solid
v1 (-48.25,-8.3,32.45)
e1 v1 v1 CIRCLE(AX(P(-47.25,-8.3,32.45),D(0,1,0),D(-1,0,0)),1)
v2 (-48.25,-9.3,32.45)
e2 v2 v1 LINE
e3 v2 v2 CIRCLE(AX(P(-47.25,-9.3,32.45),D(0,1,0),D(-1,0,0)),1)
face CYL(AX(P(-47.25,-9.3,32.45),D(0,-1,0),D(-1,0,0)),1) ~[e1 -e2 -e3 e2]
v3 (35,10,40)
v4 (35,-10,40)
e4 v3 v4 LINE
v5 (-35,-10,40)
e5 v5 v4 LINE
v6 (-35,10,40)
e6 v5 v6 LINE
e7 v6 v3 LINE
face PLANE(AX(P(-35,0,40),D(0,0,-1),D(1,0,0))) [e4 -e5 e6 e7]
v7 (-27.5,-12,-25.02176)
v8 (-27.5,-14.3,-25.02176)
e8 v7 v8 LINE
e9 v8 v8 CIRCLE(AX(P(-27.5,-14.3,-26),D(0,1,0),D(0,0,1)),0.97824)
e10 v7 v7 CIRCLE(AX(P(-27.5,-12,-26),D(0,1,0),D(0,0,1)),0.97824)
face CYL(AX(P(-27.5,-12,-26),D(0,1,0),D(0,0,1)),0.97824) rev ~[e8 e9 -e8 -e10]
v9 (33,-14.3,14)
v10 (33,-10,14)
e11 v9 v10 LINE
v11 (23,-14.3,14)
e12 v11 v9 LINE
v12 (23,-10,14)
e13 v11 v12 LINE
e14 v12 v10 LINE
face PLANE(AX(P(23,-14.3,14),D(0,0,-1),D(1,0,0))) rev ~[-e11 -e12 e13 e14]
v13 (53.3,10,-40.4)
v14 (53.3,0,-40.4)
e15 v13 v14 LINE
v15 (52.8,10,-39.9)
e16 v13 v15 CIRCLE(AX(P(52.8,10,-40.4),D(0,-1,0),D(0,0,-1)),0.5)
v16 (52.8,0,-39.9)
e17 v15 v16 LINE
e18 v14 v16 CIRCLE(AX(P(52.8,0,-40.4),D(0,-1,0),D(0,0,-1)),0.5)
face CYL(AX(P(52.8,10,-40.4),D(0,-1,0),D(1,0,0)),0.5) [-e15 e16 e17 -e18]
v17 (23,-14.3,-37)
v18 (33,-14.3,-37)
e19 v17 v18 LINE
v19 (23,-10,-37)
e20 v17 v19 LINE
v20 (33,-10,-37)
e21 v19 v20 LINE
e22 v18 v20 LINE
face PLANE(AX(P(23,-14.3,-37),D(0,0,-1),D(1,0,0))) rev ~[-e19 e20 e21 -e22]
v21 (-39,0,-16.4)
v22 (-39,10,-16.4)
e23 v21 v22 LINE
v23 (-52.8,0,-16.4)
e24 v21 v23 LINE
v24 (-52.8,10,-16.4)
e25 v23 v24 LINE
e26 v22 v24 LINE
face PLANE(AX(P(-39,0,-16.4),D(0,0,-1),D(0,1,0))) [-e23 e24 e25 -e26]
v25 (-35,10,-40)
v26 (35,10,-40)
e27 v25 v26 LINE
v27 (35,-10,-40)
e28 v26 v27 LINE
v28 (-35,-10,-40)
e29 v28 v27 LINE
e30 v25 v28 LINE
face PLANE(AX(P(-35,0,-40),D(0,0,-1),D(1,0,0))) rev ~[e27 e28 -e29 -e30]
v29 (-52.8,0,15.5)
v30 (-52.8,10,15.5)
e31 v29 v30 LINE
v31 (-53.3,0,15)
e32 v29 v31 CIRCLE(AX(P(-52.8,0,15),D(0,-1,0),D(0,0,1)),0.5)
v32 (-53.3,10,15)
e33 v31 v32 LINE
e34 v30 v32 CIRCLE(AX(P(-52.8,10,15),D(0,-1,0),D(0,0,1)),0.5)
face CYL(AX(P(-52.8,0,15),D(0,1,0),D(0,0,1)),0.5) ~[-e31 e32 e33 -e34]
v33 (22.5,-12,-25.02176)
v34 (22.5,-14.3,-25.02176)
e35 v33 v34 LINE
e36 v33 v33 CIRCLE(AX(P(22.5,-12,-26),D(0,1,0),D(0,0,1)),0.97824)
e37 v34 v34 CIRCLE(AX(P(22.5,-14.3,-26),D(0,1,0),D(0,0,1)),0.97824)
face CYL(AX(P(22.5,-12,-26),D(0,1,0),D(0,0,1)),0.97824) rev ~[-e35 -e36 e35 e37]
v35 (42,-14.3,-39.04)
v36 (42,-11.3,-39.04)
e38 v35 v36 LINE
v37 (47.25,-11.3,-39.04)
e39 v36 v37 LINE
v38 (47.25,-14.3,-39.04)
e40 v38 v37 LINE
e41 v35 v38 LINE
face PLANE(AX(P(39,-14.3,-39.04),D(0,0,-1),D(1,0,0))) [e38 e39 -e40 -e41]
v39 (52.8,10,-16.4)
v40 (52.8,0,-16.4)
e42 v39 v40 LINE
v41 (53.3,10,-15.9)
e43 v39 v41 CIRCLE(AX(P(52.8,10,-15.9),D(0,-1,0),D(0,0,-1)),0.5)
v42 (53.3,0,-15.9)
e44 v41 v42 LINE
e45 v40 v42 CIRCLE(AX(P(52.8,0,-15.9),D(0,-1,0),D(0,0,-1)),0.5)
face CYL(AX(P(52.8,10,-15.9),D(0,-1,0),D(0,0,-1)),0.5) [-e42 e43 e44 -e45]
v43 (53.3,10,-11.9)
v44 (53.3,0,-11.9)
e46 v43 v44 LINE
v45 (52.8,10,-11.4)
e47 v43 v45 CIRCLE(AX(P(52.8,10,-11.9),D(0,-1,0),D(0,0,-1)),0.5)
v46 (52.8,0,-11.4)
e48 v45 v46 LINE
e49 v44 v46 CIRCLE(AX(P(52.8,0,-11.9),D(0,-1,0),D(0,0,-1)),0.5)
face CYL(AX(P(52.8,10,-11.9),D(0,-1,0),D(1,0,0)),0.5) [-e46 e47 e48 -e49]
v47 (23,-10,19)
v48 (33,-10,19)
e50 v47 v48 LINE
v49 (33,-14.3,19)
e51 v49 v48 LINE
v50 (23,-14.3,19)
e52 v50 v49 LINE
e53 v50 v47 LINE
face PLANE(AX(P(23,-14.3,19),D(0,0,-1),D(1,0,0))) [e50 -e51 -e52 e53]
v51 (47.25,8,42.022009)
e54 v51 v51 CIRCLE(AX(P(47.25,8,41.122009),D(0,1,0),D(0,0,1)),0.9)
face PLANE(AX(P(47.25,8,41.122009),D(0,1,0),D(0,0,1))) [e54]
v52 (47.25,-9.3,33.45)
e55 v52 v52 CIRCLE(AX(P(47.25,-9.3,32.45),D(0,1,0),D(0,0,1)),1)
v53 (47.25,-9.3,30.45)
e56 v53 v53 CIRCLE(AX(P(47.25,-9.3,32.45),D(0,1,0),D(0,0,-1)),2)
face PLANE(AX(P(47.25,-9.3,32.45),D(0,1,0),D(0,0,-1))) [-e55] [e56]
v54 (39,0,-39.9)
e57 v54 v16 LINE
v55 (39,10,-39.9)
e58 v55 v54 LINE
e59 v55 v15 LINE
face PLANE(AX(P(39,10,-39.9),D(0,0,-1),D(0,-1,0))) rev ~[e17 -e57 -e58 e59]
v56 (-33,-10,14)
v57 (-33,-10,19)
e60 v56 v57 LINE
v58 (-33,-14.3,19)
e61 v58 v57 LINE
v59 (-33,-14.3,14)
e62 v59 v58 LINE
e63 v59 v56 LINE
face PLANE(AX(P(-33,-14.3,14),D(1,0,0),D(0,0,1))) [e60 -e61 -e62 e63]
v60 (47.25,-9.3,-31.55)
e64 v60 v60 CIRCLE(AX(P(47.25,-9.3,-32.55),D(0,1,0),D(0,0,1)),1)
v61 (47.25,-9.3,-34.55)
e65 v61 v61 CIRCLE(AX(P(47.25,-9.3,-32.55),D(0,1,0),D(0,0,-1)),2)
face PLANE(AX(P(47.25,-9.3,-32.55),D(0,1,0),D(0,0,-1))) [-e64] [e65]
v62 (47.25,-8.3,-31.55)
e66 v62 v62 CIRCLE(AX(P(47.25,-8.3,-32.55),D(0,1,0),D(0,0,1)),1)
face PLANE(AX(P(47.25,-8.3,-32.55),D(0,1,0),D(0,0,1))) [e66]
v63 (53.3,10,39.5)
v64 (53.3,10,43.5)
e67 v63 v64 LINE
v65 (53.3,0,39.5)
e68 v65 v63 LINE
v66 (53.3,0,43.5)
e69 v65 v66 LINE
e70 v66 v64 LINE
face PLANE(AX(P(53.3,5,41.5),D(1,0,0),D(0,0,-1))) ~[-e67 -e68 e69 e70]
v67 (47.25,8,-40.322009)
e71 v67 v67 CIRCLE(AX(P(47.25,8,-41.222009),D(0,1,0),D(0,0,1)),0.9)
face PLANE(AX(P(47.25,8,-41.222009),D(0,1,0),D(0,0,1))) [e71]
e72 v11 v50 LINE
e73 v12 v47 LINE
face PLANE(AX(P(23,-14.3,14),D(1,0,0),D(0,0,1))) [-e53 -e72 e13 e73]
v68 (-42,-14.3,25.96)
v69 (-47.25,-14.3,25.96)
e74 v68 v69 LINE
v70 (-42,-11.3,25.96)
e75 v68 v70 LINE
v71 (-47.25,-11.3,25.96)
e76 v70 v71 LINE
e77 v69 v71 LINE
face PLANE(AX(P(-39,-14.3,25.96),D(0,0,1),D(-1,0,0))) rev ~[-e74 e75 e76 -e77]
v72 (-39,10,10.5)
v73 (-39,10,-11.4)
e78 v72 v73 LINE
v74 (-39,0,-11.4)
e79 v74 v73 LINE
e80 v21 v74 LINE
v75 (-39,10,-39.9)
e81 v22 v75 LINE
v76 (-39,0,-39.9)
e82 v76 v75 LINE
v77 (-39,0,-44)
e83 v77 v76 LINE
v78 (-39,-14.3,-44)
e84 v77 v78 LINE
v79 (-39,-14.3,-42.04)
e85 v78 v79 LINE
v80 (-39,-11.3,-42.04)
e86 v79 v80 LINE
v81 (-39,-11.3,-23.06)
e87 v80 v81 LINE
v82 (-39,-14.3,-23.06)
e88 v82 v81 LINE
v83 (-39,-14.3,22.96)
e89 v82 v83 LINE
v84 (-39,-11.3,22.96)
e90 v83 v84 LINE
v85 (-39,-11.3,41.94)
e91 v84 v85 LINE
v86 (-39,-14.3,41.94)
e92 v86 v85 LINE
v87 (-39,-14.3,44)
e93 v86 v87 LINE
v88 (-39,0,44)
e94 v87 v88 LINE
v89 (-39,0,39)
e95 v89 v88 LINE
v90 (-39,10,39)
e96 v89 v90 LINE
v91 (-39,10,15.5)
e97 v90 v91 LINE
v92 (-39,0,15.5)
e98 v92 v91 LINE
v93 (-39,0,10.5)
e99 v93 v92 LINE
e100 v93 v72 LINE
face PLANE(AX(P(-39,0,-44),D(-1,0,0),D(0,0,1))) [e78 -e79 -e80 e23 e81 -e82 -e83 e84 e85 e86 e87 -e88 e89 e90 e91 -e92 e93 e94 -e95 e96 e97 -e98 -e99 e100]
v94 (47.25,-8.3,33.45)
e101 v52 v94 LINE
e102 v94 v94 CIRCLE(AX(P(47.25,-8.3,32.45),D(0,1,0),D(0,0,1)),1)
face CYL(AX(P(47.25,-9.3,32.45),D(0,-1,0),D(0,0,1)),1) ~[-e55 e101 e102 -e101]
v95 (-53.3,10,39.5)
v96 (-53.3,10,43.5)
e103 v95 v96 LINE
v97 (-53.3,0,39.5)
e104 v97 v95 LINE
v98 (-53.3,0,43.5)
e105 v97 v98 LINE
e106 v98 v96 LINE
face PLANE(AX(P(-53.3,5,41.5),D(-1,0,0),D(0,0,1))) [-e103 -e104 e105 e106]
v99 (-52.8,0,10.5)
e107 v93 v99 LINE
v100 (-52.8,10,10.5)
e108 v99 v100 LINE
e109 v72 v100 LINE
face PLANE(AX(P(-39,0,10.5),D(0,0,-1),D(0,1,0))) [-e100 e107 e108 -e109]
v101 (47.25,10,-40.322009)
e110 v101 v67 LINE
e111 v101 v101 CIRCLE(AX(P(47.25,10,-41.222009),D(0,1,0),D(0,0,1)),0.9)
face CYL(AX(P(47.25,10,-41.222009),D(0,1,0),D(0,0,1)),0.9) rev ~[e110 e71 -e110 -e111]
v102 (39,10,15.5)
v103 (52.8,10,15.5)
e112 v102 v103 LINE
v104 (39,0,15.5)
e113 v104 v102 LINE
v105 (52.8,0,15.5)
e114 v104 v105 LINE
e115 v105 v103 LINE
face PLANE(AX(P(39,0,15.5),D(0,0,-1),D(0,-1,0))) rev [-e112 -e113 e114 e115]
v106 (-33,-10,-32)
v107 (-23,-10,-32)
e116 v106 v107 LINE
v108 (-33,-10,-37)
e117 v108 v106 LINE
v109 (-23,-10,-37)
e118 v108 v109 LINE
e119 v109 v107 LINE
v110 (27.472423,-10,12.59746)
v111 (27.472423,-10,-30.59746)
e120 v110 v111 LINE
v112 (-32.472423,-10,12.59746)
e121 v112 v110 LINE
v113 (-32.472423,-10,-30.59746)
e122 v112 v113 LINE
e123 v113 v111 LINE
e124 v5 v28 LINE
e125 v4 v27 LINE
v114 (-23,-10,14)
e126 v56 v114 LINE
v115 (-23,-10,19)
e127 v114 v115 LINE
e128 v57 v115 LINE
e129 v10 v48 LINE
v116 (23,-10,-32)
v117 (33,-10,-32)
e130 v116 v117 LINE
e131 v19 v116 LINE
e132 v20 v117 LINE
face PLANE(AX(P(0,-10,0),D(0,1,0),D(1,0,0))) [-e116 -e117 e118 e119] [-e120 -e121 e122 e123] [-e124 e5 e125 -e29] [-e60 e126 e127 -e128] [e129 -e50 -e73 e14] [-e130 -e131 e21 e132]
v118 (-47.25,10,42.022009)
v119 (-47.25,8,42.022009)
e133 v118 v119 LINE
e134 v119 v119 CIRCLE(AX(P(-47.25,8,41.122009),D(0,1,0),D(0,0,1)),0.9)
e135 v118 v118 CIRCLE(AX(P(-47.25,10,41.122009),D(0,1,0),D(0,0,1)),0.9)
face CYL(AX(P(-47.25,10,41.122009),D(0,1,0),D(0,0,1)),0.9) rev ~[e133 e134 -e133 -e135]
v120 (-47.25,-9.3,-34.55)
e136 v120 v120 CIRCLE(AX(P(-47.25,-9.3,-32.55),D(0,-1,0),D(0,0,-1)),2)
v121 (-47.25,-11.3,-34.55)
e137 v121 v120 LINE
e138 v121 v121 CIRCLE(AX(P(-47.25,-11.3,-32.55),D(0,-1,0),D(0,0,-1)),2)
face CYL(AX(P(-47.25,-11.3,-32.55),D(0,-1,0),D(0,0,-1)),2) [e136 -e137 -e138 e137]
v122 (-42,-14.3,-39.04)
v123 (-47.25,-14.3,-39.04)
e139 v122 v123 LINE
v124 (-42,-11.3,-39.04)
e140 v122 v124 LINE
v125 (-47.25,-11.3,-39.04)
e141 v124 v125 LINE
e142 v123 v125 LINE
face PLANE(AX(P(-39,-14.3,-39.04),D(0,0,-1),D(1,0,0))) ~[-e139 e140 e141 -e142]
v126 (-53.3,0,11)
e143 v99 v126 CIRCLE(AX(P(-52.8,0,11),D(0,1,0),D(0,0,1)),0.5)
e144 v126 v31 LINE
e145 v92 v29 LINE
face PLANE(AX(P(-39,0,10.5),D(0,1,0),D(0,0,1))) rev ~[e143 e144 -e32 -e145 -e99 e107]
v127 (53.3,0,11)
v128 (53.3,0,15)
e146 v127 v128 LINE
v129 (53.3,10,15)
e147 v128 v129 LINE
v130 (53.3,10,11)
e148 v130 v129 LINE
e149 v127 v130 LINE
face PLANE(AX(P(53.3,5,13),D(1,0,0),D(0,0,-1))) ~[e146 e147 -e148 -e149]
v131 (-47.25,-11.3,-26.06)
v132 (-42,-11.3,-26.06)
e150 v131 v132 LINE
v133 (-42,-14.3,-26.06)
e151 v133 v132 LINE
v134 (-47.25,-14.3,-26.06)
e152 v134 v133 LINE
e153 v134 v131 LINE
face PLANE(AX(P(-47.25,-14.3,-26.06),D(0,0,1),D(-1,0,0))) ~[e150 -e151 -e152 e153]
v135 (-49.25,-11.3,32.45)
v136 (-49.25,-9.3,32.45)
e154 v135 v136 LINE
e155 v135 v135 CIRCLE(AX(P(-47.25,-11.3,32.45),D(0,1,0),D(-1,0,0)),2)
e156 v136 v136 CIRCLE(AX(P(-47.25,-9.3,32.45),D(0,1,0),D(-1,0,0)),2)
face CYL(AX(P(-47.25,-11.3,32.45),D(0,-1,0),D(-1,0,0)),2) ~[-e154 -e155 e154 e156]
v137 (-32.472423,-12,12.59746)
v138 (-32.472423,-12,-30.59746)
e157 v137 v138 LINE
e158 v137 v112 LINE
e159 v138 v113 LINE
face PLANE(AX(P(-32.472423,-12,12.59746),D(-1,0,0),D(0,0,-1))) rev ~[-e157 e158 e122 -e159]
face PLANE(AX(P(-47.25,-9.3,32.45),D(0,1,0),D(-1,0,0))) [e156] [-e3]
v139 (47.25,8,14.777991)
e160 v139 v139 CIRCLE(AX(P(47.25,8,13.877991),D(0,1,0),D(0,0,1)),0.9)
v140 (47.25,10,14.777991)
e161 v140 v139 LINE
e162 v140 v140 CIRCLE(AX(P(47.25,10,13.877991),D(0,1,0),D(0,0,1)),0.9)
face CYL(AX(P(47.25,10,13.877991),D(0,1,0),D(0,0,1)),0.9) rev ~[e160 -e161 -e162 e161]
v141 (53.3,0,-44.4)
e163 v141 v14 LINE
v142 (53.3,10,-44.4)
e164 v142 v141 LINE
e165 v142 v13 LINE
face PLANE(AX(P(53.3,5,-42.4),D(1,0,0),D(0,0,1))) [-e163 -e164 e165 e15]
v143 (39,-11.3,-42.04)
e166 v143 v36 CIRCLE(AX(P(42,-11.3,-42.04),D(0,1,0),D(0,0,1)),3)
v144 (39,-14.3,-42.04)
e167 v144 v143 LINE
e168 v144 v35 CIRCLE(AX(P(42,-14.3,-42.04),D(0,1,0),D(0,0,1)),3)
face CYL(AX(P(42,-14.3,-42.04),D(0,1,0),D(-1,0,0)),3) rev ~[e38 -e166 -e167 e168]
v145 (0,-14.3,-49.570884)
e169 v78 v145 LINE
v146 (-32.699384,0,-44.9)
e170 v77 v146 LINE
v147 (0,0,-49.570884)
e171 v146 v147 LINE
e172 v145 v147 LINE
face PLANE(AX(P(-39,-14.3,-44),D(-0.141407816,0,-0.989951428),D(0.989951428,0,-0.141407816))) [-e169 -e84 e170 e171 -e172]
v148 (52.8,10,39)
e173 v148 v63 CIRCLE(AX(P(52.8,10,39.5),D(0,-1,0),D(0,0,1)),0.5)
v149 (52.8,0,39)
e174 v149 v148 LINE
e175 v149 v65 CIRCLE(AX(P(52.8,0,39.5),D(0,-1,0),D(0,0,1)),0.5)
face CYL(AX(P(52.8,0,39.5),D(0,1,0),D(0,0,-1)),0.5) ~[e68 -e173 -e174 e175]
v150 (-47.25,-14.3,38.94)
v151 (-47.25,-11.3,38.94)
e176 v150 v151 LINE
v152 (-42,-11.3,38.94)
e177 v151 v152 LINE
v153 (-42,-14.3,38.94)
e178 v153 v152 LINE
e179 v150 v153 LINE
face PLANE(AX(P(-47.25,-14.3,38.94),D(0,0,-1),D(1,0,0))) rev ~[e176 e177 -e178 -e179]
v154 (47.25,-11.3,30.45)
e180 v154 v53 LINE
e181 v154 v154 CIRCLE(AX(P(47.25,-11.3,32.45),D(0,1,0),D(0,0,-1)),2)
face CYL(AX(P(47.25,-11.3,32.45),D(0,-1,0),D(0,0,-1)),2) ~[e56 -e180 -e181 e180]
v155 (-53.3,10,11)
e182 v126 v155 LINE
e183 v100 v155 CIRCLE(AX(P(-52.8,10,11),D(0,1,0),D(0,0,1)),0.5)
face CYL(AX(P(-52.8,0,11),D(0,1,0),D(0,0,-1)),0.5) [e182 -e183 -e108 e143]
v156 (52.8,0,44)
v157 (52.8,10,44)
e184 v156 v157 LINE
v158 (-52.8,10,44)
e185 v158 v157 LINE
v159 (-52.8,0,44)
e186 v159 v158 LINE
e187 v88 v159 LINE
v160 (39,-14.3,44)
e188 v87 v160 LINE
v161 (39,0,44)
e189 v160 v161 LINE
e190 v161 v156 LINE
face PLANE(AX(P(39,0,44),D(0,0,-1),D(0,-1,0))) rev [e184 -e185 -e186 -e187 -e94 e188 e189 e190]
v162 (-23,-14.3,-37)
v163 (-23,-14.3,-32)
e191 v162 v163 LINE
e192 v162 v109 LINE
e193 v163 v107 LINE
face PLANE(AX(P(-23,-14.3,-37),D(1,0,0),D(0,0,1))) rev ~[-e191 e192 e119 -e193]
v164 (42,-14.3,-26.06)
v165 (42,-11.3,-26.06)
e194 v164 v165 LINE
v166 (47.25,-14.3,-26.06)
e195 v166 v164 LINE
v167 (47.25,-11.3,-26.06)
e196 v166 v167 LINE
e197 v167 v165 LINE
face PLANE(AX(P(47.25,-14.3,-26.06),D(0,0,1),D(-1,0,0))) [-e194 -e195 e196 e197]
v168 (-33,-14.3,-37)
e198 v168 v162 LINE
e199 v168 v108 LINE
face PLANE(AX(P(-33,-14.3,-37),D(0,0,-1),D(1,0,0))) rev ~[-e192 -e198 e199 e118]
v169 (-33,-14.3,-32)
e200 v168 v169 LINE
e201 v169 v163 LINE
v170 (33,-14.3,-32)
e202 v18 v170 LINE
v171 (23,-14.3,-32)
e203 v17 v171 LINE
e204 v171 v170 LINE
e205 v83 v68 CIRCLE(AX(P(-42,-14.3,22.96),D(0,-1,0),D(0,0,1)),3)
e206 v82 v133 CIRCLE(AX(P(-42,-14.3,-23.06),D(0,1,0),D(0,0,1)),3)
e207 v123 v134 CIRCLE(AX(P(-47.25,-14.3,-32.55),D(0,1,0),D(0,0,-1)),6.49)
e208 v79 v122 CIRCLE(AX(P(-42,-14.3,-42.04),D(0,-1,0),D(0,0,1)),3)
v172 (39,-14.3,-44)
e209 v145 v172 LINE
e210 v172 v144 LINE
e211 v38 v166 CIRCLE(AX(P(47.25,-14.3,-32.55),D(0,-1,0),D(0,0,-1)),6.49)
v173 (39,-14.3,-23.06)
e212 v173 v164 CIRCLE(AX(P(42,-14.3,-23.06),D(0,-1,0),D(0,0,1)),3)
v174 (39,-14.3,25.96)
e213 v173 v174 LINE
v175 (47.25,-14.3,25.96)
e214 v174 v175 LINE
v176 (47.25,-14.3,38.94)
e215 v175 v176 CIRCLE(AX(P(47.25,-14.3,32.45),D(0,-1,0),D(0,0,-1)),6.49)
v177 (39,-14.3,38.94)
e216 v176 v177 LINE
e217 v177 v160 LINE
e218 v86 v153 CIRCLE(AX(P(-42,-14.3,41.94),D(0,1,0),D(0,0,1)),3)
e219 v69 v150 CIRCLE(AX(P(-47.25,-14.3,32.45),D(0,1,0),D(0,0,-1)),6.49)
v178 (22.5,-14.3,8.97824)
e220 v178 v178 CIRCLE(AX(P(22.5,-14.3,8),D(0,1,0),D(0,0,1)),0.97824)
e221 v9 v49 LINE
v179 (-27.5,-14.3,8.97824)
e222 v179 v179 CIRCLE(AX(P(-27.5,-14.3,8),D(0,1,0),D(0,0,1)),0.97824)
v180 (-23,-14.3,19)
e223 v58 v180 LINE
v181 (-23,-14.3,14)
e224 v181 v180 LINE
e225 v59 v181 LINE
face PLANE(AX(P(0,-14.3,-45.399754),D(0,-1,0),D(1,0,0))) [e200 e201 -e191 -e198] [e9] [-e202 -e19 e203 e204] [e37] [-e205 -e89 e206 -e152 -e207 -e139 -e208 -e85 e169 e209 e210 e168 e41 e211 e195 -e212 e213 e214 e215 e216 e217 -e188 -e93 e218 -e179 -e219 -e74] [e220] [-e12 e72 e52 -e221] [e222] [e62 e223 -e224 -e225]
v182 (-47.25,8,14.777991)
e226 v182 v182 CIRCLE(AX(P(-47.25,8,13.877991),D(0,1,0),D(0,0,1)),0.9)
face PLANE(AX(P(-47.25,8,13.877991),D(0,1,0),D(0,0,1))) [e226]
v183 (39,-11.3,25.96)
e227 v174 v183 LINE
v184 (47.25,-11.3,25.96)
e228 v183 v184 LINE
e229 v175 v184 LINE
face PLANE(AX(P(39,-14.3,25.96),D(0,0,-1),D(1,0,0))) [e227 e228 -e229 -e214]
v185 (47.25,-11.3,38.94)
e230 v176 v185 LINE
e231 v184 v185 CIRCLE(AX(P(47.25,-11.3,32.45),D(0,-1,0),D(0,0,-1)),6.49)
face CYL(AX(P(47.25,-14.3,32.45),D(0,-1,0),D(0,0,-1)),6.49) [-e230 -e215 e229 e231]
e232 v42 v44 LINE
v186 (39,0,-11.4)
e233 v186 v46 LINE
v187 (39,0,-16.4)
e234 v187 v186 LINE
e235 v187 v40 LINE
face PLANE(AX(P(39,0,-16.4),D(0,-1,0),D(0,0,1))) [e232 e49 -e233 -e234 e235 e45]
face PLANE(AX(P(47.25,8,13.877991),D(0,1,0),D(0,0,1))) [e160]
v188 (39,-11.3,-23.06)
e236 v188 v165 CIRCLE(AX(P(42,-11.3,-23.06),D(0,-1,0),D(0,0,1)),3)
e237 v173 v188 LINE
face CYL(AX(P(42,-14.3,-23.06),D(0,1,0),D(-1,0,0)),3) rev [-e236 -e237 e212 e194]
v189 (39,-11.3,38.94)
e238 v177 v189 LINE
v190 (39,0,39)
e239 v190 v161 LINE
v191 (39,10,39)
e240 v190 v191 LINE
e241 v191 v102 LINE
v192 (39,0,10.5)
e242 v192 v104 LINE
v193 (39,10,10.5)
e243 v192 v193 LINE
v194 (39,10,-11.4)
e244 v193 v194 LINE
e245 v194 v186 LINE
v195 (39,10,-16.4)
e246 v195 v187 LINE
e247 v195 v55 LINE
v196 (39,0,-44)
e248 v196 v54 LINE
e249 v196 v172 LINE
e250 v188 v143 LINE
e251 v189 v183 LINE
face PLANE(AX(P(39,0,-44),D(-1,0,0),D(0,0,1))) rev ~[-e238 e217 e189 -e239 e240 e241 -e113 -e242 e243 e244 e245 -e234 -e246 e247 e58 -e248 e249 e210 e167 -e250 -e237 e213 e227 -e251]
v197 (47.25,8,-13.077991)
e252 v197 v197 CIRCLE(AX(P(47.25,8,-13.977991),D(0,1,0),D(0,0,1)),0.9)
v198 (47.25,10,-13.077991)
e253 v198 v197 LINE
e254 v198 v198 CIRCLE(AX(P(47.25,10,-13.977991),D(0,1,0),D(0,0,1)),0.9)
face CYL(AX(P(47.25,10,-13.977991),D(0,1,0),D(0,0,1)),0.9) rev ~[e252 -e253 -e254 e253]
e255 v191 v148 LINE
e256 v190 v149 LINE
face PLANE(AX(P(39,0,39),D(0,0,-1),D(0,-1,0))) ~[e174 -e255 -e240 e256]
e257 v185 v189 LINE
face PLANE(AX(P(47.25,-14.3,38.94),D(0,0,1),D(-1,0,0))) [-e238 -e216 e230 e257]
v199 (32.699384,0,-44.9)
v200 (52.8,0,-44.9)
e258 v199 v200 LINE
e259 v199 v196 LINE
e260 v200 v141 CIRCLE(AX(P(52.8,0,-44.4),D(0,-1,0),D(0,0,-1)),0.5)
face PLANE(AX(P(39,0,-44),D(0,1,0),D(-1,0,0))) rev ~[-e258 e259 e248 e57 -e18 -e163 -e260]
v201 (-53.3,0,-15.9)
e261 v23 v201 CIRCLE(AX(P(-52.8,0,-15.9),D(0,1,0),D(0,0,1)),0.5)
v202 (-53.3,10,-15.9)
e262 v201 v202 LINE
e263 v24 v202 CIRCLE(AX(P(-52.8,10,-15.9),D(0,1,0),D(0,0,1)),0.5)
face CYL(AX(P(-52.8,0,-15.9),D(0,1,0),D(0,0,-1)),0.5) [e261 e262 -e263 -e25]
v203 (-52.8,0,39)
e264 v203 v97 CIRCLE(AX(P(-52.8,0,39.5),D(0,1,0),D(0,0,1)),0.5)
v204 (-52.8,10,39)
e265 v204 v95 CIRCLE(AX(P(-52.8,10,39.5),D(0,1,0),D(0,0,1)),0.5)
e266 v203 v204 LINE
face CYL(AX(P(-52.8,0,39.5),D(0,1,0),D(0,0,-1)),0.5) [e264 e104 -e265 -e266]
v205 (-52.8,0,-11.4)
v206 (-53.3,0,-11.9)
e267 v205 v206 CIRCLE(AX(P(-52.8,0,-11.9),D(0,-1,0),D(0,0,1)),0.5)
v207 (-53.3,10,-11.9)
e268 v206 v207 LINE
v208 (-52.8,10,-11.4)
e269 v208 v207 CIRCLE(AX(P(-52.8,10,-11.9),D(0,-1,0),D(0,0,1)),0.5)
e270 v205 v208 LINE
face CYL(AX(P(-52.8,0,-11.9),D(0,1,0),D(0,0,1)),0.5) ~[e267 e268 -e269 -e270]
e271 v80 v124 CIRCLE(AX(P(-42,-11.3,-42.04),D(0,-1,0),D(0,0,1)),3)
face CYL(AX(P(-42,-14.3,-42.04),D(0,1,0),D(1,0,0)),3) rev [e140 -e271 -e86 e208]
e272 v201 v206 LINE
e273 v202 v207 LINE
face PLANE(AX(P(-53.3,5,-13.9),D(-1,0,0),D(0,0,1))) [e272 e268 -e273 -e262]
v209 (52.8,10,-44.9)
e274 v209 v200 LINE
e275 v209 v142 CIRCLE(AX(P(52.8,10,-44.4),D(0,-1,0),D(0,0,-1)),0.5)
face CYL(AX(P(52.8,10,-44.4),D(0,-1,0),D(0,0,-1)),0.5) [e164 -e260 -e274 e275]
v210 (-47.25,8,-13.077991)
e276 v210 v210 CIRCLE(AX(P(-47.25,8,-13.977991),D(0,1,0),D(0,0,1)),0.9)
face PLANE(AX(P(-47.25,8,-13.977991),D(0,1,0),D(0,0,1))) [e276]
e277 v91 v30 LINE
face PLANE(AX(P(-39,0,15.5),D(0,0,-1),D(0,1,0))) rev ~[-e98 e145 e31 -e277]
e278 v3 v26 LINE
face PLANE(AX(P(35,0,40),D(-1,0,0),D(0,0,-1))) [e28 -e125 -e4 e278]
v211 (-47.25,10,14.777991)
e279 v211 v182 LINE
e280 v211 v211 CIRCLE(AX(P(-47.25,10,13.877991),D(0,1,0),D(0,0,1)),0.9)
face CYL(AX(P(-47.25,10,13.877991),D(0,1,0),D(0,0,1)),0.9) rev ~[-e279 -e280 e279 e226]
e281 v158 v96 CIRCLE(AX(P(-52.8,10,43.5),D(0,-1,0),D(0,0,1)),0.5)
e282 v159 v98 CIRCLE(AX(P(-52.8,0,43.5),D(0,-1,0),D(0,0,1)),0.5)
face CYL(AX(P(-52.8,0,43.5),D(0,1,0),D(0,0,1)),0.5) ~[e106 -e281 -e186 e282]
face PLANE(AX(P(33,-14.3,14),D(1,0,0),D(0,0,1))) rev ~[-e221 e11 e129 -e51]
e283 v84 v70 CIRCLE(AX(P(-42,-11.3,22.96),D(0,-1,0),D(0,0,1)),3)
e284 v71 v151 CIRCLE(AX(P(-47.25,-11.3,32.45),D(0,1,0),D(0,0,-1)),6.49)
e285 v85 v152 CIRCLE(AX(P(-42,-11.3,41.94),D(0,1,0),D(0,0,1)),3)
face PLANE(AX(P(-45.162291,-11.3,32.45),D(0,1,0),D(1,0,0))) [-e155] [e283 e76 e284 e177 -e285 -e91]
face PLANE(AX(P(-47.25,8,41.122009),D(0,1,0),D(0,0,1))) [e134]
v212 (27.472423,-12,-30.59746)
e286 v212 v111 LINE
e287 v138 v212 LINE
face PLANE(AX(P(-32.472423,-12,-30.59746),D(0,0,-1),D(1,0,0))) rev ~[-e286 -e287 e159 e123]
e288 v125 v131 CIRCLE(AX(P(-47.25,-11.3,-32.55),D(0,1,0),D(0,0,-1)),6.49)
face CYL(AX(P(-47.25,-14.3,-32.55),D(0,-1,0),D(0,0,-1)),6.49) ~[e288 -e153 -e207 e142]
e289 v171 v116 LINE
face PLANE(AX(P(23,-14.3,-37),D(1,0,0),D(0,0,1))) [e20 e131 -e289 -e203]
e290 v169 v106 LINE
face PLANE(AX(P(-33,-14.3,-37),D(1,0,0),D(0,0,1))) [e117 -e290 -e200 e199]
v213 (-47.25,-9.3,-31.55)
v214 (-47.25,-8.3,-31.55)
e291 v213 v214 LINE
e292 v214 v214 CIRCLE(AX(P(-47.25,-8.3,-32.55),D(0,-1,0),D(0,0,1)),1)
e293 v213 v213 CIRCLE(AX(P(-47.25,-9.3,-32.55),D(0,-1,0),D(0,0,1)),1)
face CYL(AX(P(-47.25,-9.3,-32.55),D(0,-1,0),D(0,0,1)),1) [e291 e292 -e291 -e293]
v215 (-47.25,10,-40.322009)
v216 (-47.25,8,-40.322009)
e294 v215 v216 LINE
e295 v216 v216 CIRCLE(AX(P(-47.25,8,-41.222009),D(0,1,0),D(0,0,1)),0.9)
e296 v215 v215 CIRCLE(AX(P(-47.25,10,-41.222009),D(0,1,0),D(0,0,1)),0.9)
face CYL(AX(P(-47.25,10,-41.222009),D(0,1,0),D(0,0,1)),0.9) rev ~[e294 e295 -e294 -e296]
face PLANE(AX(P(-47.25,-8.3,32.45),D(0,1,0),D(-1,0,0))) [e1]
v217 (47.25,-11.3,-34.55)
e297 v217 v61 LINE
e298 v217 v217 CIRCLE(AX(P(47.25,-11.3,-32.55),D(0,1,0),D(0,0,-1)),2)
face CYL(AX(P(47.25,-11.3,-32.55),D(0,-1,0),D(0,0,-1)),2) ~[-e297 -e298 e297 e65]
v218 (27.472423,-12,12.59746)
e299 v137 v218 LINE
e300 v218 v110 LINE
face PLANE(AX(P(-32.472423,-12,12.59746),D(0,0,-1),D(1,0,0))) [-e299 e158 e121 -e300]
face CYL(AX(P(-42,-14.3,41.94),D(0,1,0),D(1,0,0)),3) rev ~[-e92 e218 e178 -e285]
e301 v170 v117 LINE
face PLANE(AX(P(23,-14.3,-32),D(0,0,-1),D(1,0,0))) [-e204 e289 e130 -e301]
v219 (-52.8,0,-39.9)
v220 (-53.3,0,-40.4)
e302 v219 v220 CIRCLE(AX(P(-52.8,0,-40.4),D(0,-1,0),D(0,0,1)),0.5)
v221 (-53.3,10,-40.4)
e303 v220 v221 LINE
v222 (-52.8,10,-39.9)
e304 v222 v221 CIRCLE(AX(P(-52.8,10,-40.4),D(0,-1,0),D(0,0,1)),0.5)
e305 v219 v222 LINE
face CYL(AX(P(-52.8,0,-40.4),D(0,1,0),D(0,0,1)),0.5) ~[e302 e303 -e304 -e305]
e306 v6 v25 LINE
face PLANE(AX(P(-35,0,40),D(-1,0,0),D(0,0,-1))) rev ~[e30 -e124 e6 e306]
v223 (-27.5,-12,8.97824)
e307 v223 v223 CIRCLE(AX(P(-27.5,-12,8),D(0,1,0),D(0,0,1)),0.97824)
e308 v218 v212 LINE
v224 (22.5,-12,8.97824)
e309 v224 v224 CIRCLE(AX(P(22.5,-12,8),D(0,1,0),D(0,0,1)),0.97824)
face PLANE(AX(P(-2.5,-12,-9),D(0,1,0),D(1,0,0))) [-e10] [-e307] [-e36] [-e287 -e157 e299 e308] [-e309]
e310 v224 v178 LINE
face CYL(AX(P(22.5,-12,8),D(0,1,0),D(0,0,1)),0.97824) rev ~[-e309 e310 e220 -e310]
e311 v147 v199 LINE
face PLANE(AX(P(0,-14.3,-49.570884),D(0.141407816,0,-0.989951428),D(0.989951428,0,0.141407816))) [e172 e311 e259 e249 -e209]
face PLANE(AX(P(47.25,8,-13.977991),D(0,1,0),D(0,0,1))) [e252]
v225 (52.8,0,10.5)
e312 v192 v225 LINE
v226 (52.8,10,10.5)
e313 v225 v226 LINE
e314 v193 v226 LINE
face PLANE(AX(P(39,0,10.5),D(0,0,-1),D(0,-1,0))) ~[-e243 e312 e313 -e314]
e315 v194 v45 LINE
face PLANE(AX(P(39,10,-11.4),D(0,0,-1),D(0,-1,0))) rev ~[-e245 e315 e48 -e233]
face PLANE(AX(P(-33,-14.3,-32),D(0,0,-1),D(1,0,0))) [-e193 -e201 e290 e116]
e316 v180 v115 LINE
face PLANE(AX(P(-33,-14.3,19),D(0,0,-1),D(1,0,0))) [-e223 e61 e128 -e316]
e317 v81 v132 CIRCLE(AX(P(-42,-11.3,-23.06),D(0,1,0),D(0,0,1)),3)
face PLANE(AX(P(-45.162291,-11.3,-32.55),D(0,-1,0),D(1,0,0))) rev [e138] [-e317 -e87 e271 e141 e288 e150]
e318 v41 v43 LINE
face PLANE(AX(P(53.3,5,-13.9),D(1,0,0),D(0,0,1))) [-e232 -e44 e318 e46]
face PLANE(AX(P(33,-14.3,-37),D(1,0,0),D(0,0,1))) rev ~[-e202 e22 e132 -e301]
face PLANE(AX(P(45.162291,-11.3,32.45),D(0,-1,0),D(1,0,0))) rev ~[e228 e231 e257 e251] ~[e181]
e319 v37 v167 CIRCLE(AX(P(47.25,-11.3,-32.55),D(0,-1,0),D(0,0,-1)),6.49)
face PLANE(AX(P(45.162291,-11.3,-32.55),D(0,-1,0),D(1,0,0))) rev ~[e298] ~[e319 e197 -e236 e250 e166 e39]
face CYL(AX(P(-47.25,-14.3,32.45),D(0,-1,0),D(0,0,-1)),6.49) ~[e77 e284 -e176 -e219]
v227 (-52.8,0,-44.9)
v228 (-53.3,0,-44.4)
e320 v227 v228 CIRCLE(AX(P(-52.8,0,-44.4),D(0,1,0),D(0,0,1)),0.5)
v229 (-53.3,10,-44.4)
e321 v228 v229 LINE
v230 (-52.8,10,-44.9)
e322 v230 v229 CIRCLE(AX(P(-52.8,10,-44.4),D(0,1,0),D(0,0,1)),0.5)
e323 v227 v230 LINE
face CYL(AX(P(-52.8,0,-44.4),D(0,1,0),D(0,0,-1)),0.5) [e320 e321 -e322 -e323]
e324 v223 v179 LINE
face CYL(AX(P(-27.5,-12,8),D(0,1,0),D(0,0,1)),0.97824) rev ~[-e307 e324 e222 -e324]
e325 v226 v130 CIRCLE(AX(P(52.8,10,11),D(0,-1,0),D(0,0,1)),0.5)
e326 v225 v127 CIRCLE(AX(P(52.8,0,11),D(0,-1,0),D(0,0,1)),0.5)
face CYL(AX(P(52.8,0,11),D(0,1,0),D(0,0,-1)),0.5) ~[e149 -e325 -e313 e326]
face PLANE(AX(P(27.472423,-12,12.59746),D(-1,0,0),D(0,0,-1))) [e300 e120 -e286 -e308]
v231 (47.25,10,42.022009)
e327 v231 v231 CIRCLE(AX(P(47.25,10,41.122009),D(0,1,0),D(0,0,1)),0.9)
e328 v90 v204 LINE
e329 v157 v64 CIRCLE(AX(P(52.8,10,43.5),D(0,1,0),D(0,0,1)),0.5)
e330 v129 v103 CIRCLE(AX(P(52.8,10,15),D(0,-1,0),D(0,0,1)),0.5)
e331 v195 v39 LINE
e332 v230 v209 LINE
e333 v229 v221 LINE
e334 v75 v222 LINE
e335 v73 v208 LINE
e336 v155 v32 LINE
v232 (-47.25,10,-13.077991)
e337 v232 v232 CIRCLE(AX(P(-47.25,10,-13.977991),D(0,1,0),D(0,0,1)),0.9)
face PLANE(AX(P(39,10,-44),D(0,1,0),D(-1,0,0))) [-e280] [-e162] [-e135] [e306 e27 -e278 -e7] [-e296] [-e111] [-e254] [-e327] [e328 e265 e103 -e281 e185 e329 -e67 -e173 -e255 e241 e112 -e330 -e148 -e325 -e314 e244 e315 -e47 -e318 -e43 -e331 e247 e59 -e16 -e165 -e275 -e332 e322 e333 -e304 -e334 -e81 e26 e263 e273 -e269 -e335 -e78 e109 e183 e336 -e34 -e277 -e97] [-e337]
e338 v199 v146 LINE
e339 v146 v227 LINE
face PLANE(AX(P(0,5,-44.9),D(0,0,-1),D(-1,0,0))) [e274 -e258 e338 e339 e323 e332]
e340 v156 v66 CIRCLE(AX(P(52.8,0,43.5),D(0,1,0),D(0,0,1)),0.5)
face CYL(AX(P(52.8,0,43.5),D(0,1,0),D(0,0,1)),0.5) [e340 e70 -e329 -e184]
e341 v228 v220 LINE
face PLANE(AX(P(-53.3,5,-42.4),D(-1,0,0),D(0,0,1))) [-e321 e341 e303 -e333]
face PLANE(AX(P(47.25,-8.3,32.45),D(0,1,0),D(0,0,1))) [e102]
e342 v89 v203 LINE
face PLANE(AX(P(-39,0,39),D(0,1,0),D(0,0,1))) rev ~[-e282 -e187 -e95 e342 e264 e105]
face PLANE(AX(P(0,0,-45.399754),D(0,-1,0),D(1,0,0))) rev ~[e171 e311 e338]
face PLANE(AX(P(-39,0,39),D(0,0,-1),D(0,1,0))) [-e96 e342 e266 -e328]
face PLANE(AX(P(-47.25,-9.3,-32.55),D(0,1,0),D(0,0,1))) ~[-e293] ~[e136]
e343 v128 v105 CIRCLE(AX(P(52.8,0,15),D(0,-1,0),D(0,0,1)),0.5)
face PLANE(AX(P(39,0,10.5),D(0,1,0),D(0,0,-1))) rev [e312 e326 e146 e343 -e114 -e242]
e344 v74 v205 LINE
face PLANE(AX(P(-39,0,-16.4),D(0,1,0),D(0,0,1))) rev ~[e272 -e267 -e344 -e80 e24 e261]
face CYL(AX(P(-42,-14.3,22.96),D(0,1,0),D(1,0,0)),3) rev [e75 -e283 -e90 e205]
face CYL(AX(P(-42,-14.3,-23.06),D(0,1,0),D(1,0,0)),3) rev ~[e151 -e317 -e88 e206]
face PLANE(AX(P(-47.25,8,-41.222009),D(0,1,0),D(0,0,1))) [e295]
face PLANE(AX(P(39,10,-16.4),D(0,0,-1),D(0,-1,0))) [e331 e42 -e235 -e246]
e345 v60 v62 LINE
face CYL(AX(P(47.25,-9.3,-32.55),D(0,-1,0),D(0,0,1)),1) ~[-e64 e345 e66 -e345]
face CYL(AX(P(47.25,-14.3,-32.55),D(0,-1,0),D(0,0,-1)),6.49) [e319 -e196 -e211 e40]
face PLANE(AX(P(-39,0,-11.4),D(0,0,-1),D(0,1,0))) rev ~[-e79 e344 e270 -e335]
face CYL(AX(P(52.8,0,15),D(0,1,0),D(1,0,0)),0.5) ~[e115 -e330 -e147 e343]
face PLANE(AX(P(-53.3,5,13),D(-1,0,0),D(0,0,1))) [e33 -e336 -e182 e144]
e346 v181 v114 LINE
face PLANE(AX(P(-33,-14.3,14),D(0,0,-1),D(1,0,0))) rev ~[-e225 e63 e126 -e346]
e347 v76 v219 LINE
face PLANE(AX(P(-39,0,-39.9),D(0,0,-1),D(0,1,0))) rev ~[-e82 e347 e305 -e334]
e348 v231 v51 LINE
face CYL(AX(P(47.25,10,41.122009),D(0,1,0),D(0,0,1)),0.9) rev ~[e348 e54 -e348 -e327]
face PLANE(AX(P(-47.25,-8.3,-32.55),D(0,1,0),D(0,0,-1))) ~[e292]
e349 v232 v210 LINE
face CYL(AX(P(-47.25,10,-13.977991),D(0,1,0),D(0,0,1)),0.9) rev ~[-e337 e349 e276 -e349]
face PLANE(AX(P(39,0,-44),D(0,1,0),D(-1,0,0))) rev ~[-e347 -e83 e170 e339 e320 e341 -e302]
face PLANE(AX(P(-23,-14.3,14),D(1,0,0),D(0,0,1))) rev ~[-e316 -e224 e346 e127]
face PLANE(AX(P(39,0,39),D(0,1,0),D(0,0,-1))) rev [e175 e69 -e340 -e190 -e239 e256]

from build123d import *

# Parameters (mm, degrees)
SKETCH_1_W                       = 78
SKETCH_1_H                       = 88
SKETCH_1_W_2                     = 70
SKETCH_1_H_2                     = 80
EXTRUDE_1_DEPTH                  = 10
SKETCH_2_W                       = 78
SKETCH_2_H                       = 88
EXTRUDE_3_DEPTH                  = 14.3
SKETCH_3_W                       = 5
SKETCH_3_H                       = 10
EXTRUDE_4_DEPTH                  = 14.3
PATTERN_LINEAR_2_COUNT           = 2
PATTERN_LINEAR_2_PITCH           = 55.4
MIRROR_3_COPY_1_SKETCH_W         = 5
MIRROR_3_COPY_1_SKETCH_H         = 10
MIRROR_3_COPY_1_DEPTH            = 14.3
SKETCH_7_W                       = 70
SKETCH_7_H                       = 80
CUT_EXTRUDE_1_DEPTH              = 10
EXTRUDE_9_DEPTH                  = 14.3
FILLET_1_R                       = 0.5
CUT_EXTRUDE_2_REACH              = 78.738
SKETCH_13_W                      = 10
SKETCH_13_H                      = 5
EXTRUDE_11_DEPTH                 = 3
SKETCH_14_R                      = 2
EXTRUDE_12_DEPTH                 = 2
SKETCH_15_R                      = 1
EXTRUDE_13_DEPTH                 = 1
PATTERN_LINEAR_3_COUNT           = 2
PATTERN_LINEAR_3_PITCH           = 65
PATTERN_LINEAR_3_COPY_1_DEPTH    = 3
PATTERN_LINEAR_3_COPY_2_SKETCH_R = 2
PATTERN_LINEAR_3_COPY_2_DEPTH    = 2
PATTERN_LINEAR_3_COPY_3_SKETCH_R = 1
PATTERN_LINEAR_3_COPY_3_DEPTH    = 1
SKETCH_16_W                      = 78
SKETCH_16_H                      = 10
EXTRUDE_14_DEPTH                 = 0.9
CUT_EXTRUDE_3_DEPTH              = 2
SKETCH_19_R                      = 0.978239546
CUT_EXTRUDE_4_DEPTH              = 77.349591778
SKETCH_20_W                      = 59.944846142
SKETCH_20_H                      = 43.194920924
CUT_EXTRUDE_5_DEPTH              = 2
FILLET_2_R                       = 3
SKETCH_23_R                      = 0.9
CUT_EXTRUDE_8_DEPTH              = 2


with BuildPart() as part:
    # 草图1 → 凸台-拉伸1 (new body)
    with BuildSketch(Plane(origin=(0, 0, 0), x_dir=(1, 0, 0), z_dir=(0, 1, 0))):
        Rectangle(SKETCH_1_W, SKETCH_1_H)
        Rectangle(SKETCH_1_W_2, SKETCH_1_H_2, mode=Mode.SUBTRACT)
    extrude(amount=EXTRUDE_1_DEPTH)

    # 草图2 → 凸台-拉伸3 (add)
    with BuildSketch(Plane.XZ):
        Rectangle(SKETCH_2_W, SKETCH_2_H)
    extrude(amount=EXTRUDE_3_DEPTH)

    # 草图3 → 凸台-拉伸4 (add)
    with BuildSketch(Plane.ZY.offset(39)):
        with Locations((41.5, 5)):
            Rectangle(SKETCH_3_W, SKETCH_3_H)
        with Locations((13, 5)):
            Rectangle(SKETCH_3_W, SKETCH_3_H)
    extrude_4 = extrude(amount=EXTRUDE_4_DEPTH)

    # 阵列(线性)2: 凸台-拉伸4 ×2
    with Locations(*[(0, 0, -i * PATTERN_LINEAR_2_PITCH) for i in range(1, PATTERN_LINEAR_2_COUNT)]):
        add(extrude_4)

    # 镜向3: 凸台-拉伸4 across plane
    add(extrude_4.mirror(Plane(origin=(0, 0, 0), x_dir=(0, 0, 1), z_dir=(1, 0, 0))))

    # 镜向3 copy 1 sketch → 镜向3 copy 1 (add)
    with BuildSketch(Plane(origin=(39, 0, -55.4), x_dir=(0, 0, 1), z_dir=(1, 0, 0))):
        with Locations((41.5, -5)):
            Rectangle(MIRROR_3_COPY_1_SKETCH_W, MIRROR_3_COPY_1_SKETCH_H)
        with Locations((13, -5)):
            Rectangle(MIRROR_3_COPY_1_SKETCH_W, MIRROR_3_COPY_1_SKETCH_H)
    extrude(amount=MIRROR_3_COPY_1_DEPTH)

    # 草图7 → 切除-拉伸1 (cut)
    with BuildSketch(Plane(origin=(0, 0, 0), x_dir=(1, 0, 0), z_dir=(0, 1, 0))):
        Rectangle(SKETCH_7_W, SKETCH_7_H)
    extrude(amount=-CUT_EXTRUDE_1_DEPTH, mode=Mode.SUBTRACT)

    # 草图12 → 凸台-拉伸9 (add)
    with BuildSketch(Plane.XZ.offset(14.3)):
        Polygon((-39, -44), (0, -49.570884246), (39, -44), align=None)
    extrude(amount=-EXTRUDE_9_DEPTH)

    # 圆角1
    fillet_1_edges = [part.edges().sort_by_distance(p)[0] for p in [
        (53.3, 5, 15.5),
        (53.3, 5, 10.5),
        (53.3, 5, -11.4),
        (53.3, 5, -16.4),
        (53.3, 5, -39.9),
        (53.3, 5, -44.9),
        (-53.3, 5, 44),
        (-53.3, 5, 39),
        (-53.3, 5, 15.5),
        (-53.3, 5, 10.5),
        (-53.3, 5, -11.4),
        (-53.3, 5, -16.4),
        (-53.3, 5, -39.9),
        (-53.3, 5, -44.9),
        (53.3, 5, 44),
        (53.3, 5, 39),
    ]]
    fillet(fillet_1_edges, radius=FILLET_1_R)

    # 草图13 → 切除-拉伸2 (cut, up to next)
    with BuildSketch(Plane.XZ.offset(14.3), mode=Mode.PRIVATE) as cut_extrude_2_sk1:
        with Locations((-28, -34.5)):
            Rectangle(SKETCH_13_W, SKETCH_13_H)
    cut_extrude_2_tool1 = extrude(cut_extrude_2_sk1.sketch, amount=-CUT_EXTRUDE_2_REACH, mode=Mode.PRIVATE) & part.part
    # 草图13 → 切除-拉伸2 (cut, up to next)
    with BuildSketch(Plane.XZ.offset(14.3), mode=Mode.PRIVATE) as cut_extrude_2_sk2:
        with Locations((-28, 16.5)):
            Rectangle(SKETCH_13_W, SKETCH_13_H)
    cut_extrude_2_tool2 = extrude(cut_extrude_2_sk2.sketch, amount=-CUT_EXTRUDE_2_REACH, mode=Mode.PRIVATE) & part.part
    # 草图13 → 切除-拉伸2 (cut, up to next)
    with BuildSketch(Plane.XZ.offset(14.3), mode=Mode.PRIVATE) as cut_extrude_2_sk3:
        with Locations((28, -34.5)):
            Rectangle(SKETCH_13_W, SKETCH_13_H)
    cut_extrude_2_tool3 = extrude(cut_extrude_2_sk3.sketch, amount=-CUT_EXTRUDE_2_REACH, mode=Mode.PRIVATE) & part.part
    # 草图13 → 切除-拉伸2 (cut, up to next)
    with BuildSketch(Plane.XZ.offset(14.3), mode=Mode.PRIVATE) as cut_extrude_2_sk4:
        with Locations((28, 16.5)):
            Rectangle(SKETCH_13_W, SKETCH_13_H)
    cut_extrude_2_tool4 = extrude(cut_extrude_2_sk4.sketch, amount=-CUT_EXTRUDE_2_REACH, mode=Mode.PRIVATE) & part.part
    add(cut_extrude_2_tool1.solids().sort_by_distance((-28, -14.3, -34.5))[0], mode=Mode.SUBTRACT)
    add(cut_extrude_2_tool2.solids().sort_by_distance((-28, -14.3, 16.5))[0], mode=Mode.SUBTRACT)
    add(cut_extrude_2_tool3.solids().sort_by_distance((28, -14.3, -34.5))[0], mode=Mode.SUBTRACT)
    add(cut_extrude_2_tool4.solids().sort_by_distance((28, -14.3, 16.5))[0], mode=Mode.SUBTRACT)

    # 草图8 → 凸台-拉伸11 (add)
    with BuildSketch(Plane.XZ.offset(14.3)):
        with BuildLine():
            Line((47.25, -26.060000002), (39, -26.060000002))
            Line((39, -26.060000002), (39, -38.559799845))
            Line((39, -38.559799845), (39, -39.039999998))
            Line((39, -39.039999998), (47.25, -39.039999998))
            ThreePointArc((47.25, -39.039999998), (53.739999998, -32.55), (47.25, -26.060000002))
        make_face()
    extrude_11 = extrude(amount=-EXTRUDE_11_DEPTH)

    # 草图14 → 凸台-拉伸12 (add)
    with BuildSketch(Plane(origin=(0, -11.3, 0), x_dir=(1, 0, 0), z_dir=(0, 1, 0))):
        with Locations(Location((47.25, 32.55, 0), (0, 0, 90))):
            Circle(SKETCH_14_R)
    extrude_12 = extrude(amount=EXTRUDE_12_DEPTH)

    # 草图15 → 凸台-拉伸13 (add)
    with BuildSketch(Plane(origin=(0, -9.3, 0), x_dir=(1, 0, 0), z_dir=(0, 1, 0))):
        with Locations(Location((47.25, 32.55, 0), (0, 0, 270))):
            Circle(SKETCH_15_R)
    extrude_13 = extrude(amount=EXTRUDE_13_DEPTH)

    # 镜向4: 凸台-拉伸11, 凸台-拉伸12, 凸台-拉伸13 across plane
    add(extrude_11.mirror(Plane(origin=(0, 0, 0), x_dir=(0, 0, 1), z_dir=(1, 0, 0))))
    add(extrude_12.mirror(Plane(origin=(0, 0, 0), x_dir=(0, 0, 1), z_dir=(1, 0, 0))))
    add(extrude_13.mirror(Plane(origin=(0, 0, 0), x_dir=(0, 0, 1), z_dir=(1, 0, 0))))

    # 阵列(线性)3: 凸台-拉伸11, 凸台-拉伸12, 凸台-拉伸13 ×2
    with Locations(*[(0, 0, i * PATTERN_LINEAR_3_PITCH) for i in range(1, PATTERN_LINEAR_3_COUNT)]):
        add(extrude_11)
        add(extrude_12)
        add(extrude_13)

    # 阵列(线性)3 copy 1 sketch → 阵列(线性)3 copy 1 (add)
    with BuildSketch(Plane(origin=(0, -14.3, 65), x_dir=(-1, 0, 0), z_dir=(0, -1, 0))):
        with BuildLine():
            Line((47.25, 26.060000002), (39, 26.060000002))
            Line((39, 26.060000002), (39, 38.559799845))
            Line((39, 38.559799845), (39, 39.039999998))
            Line((39, 39.039999998), (47.25, 39.039999998))
            ThreePointArc((47.25, 39.039999998), (53.739999998, 32.55), (47.25, 26.060000002))
        make_face()
    extrude(amount=-PATTERN_LINEAR_3_COPY_1_DEPTH)

    # 阵列(线性)3 copy 2 sketch → 阵列(线性)3 copy 2 (add)
    with BuildSketch(Plane(origin=(0, -11.3, 65), x_dir=(-1, 0, 0), z_dir=(0, 1, 0))):
        with Locations((47.25, -32.55)):
            Circle(PATTERN_LINEAR_3_COPY_2_SKETCH_R)
    extrude(amount=PATTERN_LINEAR_3_COPY_2_DEPTH)

    # 阵列(线性)3 copy 3 sketch → 阵列(线性)3 copy 3 (add)
    with BuildSketch(Plane(origin=(0, -9.3, 65), x_dir=(-1, 0, 0), z_dir=(0, 1, 0))):
        with Locations((47.25, -32.55)):
            Circle(PATTERN_LINEAR_3_COPY_3_SKETCH_R)
    extrude(amount=PATTERN_LINEAR_3_COPY_3_DEPTH)

    # 草图16 → 凸台-拉伸14 (add)
    with BuildSketch(Plane(origin=(0, 0, -44), x_dir=(-1, 0, 0), z_dir=(0, 0, -1))):
        with Locations((0, 5)):
            Rectangle(SKETCH_16_W, SKETCH_16_H)
    extrude(amount=EXTRUDE_14_DEPTH)

    # 草图18 → 切除-拉伸3 (cut)
    with BuildSketch(Plane(origin=(0, -10, 0), x_dir=(1, 0, 0), z_dir=(0, 1, 0))):
        with BuildLine():
            Line((-31.5, 28), (-31.5, -10))
            ThreePointArc((-31.5, -10), (-30.914213562, -11.414213562), (-29.5, -12))
            Line((-29.5, -12), (24.5, -12))
            ThreePointArc((24.5, -12), (25.914213562, -11.414213562), (26.5, -10))
            Line((26.5, -10), (26.5, 28))
            ThreePointArc((26.5, 28), (25.914213562, 29.414213562), (24.5, 30))
            Line((24.5, 30), (-29.5, 30))
            ThreePointArc((-29.5, 30), (-30.914213562, 29.414213562), (-31.5, 28))
        make_face()
    extrude(amount=-CUT_EXTRUDE_3_DEPTH, mode=Mode.SUBTRACT)

    # 草图19 → 切除-拉伸4 (cut, through all)
    with BuildSketch(Plane(origin=(0, -12, 0), x_dir=(1, 0, 0), z_dir=(0, 1, 0))):
        with Locations(Location((22.5, 26, 0), (0, 0, 270))):
            Circle(SKETCH_19_R)
        with Locations(Location((22.5, -8, 0), (0, 0, 270))):
            Circle(SKETCH_19_R)
        with Locations(Location((-27.5, -8, 0), (0, 0, 270))):
            Circle(SKETCH_19_R)
        with Locations(Location((-27.5, 26, 0), (0, 0, 270))):
            Circle(SKETCH_19_R)
    extrude(amount=-CUT_EXTRUDE_4_DEPTH, mode=Mode.SUBTRACT)

    # 草图20 → 切除-拉伸5 (cut)
    with BuildSketch(Plane(origin=(0, -12, 0), x_dir=(1, 0, 0), z_dir=(0, 1, 0))):
        with Locations((-2.5, 9)):
            Rectangle(SKETCH_20_W, SKETCH_20_H)
    extrude(amount=CUT_EXTRUDE_5_DEPTH, mode=Mode.SUBTRACT)

    # 圆角2
    fillet_2_edges = [part.edges().sort_by_distance(p)[0] for p in [
        (39, -12.8, -39.039999998),
        (39, -12.8, -26.060000002),
        (-39, -12.8, -26.060000002),
        (-39, -12.8, -39.039999998),
        (-39, -12.8, 38.939999998),
        (-39, -12.8, 25.960000002),
    ]]
    fillet(fillet_2_edges, radius=FILLET_2_R)

    # 草图23 → 切除-拉伸8 (cut)
    with BuildSketch(Plane(origin=(0, 10, 0), x_dir=(1, 0, 0), z_dir=(0, 1, 0))):
        with Locations(Location((-47.25, -41.122009123, 0), (0, 0, 270))):
            Circle(SKETCH_23_R)
        with Locations(Location((-47.25, -13.877990877, 0), (0, 0, 270))):
            Circle(SKETCH_23_R)
        with Locations(Location((-47.25, 13.977990877, 0), (0, 0, 270))):
            Circle(SKETCH_23_R)
        with Locations(Location((-47.25, 41.222009123, 0), (0, 0, 270))):
            Circle(SKETCH_23_R)
        with Locations(Location((47.25, -41.122009123, 0), (0, 0, 270))):
            Circle(SKETCH_23_R)
        with Locations(Location((47.25, -13.877990877, 0), (0, 0, 270))):
            Circle(SKETCH_23_R)
        with Locations(Location((47.25, 13.977990877, 0), (0, 0, 270))):
            Circle(SKETCH_23_R)
        with Locations(Location((47.25, 41.222009123, 0), (0, 0, 270))):
            Circle(SKETCH_23_R)
    extrude(amount=-CUT_EXTRUDE_8_DEPTH, mode=Mode.SUBTRACT)


solid = part.part
